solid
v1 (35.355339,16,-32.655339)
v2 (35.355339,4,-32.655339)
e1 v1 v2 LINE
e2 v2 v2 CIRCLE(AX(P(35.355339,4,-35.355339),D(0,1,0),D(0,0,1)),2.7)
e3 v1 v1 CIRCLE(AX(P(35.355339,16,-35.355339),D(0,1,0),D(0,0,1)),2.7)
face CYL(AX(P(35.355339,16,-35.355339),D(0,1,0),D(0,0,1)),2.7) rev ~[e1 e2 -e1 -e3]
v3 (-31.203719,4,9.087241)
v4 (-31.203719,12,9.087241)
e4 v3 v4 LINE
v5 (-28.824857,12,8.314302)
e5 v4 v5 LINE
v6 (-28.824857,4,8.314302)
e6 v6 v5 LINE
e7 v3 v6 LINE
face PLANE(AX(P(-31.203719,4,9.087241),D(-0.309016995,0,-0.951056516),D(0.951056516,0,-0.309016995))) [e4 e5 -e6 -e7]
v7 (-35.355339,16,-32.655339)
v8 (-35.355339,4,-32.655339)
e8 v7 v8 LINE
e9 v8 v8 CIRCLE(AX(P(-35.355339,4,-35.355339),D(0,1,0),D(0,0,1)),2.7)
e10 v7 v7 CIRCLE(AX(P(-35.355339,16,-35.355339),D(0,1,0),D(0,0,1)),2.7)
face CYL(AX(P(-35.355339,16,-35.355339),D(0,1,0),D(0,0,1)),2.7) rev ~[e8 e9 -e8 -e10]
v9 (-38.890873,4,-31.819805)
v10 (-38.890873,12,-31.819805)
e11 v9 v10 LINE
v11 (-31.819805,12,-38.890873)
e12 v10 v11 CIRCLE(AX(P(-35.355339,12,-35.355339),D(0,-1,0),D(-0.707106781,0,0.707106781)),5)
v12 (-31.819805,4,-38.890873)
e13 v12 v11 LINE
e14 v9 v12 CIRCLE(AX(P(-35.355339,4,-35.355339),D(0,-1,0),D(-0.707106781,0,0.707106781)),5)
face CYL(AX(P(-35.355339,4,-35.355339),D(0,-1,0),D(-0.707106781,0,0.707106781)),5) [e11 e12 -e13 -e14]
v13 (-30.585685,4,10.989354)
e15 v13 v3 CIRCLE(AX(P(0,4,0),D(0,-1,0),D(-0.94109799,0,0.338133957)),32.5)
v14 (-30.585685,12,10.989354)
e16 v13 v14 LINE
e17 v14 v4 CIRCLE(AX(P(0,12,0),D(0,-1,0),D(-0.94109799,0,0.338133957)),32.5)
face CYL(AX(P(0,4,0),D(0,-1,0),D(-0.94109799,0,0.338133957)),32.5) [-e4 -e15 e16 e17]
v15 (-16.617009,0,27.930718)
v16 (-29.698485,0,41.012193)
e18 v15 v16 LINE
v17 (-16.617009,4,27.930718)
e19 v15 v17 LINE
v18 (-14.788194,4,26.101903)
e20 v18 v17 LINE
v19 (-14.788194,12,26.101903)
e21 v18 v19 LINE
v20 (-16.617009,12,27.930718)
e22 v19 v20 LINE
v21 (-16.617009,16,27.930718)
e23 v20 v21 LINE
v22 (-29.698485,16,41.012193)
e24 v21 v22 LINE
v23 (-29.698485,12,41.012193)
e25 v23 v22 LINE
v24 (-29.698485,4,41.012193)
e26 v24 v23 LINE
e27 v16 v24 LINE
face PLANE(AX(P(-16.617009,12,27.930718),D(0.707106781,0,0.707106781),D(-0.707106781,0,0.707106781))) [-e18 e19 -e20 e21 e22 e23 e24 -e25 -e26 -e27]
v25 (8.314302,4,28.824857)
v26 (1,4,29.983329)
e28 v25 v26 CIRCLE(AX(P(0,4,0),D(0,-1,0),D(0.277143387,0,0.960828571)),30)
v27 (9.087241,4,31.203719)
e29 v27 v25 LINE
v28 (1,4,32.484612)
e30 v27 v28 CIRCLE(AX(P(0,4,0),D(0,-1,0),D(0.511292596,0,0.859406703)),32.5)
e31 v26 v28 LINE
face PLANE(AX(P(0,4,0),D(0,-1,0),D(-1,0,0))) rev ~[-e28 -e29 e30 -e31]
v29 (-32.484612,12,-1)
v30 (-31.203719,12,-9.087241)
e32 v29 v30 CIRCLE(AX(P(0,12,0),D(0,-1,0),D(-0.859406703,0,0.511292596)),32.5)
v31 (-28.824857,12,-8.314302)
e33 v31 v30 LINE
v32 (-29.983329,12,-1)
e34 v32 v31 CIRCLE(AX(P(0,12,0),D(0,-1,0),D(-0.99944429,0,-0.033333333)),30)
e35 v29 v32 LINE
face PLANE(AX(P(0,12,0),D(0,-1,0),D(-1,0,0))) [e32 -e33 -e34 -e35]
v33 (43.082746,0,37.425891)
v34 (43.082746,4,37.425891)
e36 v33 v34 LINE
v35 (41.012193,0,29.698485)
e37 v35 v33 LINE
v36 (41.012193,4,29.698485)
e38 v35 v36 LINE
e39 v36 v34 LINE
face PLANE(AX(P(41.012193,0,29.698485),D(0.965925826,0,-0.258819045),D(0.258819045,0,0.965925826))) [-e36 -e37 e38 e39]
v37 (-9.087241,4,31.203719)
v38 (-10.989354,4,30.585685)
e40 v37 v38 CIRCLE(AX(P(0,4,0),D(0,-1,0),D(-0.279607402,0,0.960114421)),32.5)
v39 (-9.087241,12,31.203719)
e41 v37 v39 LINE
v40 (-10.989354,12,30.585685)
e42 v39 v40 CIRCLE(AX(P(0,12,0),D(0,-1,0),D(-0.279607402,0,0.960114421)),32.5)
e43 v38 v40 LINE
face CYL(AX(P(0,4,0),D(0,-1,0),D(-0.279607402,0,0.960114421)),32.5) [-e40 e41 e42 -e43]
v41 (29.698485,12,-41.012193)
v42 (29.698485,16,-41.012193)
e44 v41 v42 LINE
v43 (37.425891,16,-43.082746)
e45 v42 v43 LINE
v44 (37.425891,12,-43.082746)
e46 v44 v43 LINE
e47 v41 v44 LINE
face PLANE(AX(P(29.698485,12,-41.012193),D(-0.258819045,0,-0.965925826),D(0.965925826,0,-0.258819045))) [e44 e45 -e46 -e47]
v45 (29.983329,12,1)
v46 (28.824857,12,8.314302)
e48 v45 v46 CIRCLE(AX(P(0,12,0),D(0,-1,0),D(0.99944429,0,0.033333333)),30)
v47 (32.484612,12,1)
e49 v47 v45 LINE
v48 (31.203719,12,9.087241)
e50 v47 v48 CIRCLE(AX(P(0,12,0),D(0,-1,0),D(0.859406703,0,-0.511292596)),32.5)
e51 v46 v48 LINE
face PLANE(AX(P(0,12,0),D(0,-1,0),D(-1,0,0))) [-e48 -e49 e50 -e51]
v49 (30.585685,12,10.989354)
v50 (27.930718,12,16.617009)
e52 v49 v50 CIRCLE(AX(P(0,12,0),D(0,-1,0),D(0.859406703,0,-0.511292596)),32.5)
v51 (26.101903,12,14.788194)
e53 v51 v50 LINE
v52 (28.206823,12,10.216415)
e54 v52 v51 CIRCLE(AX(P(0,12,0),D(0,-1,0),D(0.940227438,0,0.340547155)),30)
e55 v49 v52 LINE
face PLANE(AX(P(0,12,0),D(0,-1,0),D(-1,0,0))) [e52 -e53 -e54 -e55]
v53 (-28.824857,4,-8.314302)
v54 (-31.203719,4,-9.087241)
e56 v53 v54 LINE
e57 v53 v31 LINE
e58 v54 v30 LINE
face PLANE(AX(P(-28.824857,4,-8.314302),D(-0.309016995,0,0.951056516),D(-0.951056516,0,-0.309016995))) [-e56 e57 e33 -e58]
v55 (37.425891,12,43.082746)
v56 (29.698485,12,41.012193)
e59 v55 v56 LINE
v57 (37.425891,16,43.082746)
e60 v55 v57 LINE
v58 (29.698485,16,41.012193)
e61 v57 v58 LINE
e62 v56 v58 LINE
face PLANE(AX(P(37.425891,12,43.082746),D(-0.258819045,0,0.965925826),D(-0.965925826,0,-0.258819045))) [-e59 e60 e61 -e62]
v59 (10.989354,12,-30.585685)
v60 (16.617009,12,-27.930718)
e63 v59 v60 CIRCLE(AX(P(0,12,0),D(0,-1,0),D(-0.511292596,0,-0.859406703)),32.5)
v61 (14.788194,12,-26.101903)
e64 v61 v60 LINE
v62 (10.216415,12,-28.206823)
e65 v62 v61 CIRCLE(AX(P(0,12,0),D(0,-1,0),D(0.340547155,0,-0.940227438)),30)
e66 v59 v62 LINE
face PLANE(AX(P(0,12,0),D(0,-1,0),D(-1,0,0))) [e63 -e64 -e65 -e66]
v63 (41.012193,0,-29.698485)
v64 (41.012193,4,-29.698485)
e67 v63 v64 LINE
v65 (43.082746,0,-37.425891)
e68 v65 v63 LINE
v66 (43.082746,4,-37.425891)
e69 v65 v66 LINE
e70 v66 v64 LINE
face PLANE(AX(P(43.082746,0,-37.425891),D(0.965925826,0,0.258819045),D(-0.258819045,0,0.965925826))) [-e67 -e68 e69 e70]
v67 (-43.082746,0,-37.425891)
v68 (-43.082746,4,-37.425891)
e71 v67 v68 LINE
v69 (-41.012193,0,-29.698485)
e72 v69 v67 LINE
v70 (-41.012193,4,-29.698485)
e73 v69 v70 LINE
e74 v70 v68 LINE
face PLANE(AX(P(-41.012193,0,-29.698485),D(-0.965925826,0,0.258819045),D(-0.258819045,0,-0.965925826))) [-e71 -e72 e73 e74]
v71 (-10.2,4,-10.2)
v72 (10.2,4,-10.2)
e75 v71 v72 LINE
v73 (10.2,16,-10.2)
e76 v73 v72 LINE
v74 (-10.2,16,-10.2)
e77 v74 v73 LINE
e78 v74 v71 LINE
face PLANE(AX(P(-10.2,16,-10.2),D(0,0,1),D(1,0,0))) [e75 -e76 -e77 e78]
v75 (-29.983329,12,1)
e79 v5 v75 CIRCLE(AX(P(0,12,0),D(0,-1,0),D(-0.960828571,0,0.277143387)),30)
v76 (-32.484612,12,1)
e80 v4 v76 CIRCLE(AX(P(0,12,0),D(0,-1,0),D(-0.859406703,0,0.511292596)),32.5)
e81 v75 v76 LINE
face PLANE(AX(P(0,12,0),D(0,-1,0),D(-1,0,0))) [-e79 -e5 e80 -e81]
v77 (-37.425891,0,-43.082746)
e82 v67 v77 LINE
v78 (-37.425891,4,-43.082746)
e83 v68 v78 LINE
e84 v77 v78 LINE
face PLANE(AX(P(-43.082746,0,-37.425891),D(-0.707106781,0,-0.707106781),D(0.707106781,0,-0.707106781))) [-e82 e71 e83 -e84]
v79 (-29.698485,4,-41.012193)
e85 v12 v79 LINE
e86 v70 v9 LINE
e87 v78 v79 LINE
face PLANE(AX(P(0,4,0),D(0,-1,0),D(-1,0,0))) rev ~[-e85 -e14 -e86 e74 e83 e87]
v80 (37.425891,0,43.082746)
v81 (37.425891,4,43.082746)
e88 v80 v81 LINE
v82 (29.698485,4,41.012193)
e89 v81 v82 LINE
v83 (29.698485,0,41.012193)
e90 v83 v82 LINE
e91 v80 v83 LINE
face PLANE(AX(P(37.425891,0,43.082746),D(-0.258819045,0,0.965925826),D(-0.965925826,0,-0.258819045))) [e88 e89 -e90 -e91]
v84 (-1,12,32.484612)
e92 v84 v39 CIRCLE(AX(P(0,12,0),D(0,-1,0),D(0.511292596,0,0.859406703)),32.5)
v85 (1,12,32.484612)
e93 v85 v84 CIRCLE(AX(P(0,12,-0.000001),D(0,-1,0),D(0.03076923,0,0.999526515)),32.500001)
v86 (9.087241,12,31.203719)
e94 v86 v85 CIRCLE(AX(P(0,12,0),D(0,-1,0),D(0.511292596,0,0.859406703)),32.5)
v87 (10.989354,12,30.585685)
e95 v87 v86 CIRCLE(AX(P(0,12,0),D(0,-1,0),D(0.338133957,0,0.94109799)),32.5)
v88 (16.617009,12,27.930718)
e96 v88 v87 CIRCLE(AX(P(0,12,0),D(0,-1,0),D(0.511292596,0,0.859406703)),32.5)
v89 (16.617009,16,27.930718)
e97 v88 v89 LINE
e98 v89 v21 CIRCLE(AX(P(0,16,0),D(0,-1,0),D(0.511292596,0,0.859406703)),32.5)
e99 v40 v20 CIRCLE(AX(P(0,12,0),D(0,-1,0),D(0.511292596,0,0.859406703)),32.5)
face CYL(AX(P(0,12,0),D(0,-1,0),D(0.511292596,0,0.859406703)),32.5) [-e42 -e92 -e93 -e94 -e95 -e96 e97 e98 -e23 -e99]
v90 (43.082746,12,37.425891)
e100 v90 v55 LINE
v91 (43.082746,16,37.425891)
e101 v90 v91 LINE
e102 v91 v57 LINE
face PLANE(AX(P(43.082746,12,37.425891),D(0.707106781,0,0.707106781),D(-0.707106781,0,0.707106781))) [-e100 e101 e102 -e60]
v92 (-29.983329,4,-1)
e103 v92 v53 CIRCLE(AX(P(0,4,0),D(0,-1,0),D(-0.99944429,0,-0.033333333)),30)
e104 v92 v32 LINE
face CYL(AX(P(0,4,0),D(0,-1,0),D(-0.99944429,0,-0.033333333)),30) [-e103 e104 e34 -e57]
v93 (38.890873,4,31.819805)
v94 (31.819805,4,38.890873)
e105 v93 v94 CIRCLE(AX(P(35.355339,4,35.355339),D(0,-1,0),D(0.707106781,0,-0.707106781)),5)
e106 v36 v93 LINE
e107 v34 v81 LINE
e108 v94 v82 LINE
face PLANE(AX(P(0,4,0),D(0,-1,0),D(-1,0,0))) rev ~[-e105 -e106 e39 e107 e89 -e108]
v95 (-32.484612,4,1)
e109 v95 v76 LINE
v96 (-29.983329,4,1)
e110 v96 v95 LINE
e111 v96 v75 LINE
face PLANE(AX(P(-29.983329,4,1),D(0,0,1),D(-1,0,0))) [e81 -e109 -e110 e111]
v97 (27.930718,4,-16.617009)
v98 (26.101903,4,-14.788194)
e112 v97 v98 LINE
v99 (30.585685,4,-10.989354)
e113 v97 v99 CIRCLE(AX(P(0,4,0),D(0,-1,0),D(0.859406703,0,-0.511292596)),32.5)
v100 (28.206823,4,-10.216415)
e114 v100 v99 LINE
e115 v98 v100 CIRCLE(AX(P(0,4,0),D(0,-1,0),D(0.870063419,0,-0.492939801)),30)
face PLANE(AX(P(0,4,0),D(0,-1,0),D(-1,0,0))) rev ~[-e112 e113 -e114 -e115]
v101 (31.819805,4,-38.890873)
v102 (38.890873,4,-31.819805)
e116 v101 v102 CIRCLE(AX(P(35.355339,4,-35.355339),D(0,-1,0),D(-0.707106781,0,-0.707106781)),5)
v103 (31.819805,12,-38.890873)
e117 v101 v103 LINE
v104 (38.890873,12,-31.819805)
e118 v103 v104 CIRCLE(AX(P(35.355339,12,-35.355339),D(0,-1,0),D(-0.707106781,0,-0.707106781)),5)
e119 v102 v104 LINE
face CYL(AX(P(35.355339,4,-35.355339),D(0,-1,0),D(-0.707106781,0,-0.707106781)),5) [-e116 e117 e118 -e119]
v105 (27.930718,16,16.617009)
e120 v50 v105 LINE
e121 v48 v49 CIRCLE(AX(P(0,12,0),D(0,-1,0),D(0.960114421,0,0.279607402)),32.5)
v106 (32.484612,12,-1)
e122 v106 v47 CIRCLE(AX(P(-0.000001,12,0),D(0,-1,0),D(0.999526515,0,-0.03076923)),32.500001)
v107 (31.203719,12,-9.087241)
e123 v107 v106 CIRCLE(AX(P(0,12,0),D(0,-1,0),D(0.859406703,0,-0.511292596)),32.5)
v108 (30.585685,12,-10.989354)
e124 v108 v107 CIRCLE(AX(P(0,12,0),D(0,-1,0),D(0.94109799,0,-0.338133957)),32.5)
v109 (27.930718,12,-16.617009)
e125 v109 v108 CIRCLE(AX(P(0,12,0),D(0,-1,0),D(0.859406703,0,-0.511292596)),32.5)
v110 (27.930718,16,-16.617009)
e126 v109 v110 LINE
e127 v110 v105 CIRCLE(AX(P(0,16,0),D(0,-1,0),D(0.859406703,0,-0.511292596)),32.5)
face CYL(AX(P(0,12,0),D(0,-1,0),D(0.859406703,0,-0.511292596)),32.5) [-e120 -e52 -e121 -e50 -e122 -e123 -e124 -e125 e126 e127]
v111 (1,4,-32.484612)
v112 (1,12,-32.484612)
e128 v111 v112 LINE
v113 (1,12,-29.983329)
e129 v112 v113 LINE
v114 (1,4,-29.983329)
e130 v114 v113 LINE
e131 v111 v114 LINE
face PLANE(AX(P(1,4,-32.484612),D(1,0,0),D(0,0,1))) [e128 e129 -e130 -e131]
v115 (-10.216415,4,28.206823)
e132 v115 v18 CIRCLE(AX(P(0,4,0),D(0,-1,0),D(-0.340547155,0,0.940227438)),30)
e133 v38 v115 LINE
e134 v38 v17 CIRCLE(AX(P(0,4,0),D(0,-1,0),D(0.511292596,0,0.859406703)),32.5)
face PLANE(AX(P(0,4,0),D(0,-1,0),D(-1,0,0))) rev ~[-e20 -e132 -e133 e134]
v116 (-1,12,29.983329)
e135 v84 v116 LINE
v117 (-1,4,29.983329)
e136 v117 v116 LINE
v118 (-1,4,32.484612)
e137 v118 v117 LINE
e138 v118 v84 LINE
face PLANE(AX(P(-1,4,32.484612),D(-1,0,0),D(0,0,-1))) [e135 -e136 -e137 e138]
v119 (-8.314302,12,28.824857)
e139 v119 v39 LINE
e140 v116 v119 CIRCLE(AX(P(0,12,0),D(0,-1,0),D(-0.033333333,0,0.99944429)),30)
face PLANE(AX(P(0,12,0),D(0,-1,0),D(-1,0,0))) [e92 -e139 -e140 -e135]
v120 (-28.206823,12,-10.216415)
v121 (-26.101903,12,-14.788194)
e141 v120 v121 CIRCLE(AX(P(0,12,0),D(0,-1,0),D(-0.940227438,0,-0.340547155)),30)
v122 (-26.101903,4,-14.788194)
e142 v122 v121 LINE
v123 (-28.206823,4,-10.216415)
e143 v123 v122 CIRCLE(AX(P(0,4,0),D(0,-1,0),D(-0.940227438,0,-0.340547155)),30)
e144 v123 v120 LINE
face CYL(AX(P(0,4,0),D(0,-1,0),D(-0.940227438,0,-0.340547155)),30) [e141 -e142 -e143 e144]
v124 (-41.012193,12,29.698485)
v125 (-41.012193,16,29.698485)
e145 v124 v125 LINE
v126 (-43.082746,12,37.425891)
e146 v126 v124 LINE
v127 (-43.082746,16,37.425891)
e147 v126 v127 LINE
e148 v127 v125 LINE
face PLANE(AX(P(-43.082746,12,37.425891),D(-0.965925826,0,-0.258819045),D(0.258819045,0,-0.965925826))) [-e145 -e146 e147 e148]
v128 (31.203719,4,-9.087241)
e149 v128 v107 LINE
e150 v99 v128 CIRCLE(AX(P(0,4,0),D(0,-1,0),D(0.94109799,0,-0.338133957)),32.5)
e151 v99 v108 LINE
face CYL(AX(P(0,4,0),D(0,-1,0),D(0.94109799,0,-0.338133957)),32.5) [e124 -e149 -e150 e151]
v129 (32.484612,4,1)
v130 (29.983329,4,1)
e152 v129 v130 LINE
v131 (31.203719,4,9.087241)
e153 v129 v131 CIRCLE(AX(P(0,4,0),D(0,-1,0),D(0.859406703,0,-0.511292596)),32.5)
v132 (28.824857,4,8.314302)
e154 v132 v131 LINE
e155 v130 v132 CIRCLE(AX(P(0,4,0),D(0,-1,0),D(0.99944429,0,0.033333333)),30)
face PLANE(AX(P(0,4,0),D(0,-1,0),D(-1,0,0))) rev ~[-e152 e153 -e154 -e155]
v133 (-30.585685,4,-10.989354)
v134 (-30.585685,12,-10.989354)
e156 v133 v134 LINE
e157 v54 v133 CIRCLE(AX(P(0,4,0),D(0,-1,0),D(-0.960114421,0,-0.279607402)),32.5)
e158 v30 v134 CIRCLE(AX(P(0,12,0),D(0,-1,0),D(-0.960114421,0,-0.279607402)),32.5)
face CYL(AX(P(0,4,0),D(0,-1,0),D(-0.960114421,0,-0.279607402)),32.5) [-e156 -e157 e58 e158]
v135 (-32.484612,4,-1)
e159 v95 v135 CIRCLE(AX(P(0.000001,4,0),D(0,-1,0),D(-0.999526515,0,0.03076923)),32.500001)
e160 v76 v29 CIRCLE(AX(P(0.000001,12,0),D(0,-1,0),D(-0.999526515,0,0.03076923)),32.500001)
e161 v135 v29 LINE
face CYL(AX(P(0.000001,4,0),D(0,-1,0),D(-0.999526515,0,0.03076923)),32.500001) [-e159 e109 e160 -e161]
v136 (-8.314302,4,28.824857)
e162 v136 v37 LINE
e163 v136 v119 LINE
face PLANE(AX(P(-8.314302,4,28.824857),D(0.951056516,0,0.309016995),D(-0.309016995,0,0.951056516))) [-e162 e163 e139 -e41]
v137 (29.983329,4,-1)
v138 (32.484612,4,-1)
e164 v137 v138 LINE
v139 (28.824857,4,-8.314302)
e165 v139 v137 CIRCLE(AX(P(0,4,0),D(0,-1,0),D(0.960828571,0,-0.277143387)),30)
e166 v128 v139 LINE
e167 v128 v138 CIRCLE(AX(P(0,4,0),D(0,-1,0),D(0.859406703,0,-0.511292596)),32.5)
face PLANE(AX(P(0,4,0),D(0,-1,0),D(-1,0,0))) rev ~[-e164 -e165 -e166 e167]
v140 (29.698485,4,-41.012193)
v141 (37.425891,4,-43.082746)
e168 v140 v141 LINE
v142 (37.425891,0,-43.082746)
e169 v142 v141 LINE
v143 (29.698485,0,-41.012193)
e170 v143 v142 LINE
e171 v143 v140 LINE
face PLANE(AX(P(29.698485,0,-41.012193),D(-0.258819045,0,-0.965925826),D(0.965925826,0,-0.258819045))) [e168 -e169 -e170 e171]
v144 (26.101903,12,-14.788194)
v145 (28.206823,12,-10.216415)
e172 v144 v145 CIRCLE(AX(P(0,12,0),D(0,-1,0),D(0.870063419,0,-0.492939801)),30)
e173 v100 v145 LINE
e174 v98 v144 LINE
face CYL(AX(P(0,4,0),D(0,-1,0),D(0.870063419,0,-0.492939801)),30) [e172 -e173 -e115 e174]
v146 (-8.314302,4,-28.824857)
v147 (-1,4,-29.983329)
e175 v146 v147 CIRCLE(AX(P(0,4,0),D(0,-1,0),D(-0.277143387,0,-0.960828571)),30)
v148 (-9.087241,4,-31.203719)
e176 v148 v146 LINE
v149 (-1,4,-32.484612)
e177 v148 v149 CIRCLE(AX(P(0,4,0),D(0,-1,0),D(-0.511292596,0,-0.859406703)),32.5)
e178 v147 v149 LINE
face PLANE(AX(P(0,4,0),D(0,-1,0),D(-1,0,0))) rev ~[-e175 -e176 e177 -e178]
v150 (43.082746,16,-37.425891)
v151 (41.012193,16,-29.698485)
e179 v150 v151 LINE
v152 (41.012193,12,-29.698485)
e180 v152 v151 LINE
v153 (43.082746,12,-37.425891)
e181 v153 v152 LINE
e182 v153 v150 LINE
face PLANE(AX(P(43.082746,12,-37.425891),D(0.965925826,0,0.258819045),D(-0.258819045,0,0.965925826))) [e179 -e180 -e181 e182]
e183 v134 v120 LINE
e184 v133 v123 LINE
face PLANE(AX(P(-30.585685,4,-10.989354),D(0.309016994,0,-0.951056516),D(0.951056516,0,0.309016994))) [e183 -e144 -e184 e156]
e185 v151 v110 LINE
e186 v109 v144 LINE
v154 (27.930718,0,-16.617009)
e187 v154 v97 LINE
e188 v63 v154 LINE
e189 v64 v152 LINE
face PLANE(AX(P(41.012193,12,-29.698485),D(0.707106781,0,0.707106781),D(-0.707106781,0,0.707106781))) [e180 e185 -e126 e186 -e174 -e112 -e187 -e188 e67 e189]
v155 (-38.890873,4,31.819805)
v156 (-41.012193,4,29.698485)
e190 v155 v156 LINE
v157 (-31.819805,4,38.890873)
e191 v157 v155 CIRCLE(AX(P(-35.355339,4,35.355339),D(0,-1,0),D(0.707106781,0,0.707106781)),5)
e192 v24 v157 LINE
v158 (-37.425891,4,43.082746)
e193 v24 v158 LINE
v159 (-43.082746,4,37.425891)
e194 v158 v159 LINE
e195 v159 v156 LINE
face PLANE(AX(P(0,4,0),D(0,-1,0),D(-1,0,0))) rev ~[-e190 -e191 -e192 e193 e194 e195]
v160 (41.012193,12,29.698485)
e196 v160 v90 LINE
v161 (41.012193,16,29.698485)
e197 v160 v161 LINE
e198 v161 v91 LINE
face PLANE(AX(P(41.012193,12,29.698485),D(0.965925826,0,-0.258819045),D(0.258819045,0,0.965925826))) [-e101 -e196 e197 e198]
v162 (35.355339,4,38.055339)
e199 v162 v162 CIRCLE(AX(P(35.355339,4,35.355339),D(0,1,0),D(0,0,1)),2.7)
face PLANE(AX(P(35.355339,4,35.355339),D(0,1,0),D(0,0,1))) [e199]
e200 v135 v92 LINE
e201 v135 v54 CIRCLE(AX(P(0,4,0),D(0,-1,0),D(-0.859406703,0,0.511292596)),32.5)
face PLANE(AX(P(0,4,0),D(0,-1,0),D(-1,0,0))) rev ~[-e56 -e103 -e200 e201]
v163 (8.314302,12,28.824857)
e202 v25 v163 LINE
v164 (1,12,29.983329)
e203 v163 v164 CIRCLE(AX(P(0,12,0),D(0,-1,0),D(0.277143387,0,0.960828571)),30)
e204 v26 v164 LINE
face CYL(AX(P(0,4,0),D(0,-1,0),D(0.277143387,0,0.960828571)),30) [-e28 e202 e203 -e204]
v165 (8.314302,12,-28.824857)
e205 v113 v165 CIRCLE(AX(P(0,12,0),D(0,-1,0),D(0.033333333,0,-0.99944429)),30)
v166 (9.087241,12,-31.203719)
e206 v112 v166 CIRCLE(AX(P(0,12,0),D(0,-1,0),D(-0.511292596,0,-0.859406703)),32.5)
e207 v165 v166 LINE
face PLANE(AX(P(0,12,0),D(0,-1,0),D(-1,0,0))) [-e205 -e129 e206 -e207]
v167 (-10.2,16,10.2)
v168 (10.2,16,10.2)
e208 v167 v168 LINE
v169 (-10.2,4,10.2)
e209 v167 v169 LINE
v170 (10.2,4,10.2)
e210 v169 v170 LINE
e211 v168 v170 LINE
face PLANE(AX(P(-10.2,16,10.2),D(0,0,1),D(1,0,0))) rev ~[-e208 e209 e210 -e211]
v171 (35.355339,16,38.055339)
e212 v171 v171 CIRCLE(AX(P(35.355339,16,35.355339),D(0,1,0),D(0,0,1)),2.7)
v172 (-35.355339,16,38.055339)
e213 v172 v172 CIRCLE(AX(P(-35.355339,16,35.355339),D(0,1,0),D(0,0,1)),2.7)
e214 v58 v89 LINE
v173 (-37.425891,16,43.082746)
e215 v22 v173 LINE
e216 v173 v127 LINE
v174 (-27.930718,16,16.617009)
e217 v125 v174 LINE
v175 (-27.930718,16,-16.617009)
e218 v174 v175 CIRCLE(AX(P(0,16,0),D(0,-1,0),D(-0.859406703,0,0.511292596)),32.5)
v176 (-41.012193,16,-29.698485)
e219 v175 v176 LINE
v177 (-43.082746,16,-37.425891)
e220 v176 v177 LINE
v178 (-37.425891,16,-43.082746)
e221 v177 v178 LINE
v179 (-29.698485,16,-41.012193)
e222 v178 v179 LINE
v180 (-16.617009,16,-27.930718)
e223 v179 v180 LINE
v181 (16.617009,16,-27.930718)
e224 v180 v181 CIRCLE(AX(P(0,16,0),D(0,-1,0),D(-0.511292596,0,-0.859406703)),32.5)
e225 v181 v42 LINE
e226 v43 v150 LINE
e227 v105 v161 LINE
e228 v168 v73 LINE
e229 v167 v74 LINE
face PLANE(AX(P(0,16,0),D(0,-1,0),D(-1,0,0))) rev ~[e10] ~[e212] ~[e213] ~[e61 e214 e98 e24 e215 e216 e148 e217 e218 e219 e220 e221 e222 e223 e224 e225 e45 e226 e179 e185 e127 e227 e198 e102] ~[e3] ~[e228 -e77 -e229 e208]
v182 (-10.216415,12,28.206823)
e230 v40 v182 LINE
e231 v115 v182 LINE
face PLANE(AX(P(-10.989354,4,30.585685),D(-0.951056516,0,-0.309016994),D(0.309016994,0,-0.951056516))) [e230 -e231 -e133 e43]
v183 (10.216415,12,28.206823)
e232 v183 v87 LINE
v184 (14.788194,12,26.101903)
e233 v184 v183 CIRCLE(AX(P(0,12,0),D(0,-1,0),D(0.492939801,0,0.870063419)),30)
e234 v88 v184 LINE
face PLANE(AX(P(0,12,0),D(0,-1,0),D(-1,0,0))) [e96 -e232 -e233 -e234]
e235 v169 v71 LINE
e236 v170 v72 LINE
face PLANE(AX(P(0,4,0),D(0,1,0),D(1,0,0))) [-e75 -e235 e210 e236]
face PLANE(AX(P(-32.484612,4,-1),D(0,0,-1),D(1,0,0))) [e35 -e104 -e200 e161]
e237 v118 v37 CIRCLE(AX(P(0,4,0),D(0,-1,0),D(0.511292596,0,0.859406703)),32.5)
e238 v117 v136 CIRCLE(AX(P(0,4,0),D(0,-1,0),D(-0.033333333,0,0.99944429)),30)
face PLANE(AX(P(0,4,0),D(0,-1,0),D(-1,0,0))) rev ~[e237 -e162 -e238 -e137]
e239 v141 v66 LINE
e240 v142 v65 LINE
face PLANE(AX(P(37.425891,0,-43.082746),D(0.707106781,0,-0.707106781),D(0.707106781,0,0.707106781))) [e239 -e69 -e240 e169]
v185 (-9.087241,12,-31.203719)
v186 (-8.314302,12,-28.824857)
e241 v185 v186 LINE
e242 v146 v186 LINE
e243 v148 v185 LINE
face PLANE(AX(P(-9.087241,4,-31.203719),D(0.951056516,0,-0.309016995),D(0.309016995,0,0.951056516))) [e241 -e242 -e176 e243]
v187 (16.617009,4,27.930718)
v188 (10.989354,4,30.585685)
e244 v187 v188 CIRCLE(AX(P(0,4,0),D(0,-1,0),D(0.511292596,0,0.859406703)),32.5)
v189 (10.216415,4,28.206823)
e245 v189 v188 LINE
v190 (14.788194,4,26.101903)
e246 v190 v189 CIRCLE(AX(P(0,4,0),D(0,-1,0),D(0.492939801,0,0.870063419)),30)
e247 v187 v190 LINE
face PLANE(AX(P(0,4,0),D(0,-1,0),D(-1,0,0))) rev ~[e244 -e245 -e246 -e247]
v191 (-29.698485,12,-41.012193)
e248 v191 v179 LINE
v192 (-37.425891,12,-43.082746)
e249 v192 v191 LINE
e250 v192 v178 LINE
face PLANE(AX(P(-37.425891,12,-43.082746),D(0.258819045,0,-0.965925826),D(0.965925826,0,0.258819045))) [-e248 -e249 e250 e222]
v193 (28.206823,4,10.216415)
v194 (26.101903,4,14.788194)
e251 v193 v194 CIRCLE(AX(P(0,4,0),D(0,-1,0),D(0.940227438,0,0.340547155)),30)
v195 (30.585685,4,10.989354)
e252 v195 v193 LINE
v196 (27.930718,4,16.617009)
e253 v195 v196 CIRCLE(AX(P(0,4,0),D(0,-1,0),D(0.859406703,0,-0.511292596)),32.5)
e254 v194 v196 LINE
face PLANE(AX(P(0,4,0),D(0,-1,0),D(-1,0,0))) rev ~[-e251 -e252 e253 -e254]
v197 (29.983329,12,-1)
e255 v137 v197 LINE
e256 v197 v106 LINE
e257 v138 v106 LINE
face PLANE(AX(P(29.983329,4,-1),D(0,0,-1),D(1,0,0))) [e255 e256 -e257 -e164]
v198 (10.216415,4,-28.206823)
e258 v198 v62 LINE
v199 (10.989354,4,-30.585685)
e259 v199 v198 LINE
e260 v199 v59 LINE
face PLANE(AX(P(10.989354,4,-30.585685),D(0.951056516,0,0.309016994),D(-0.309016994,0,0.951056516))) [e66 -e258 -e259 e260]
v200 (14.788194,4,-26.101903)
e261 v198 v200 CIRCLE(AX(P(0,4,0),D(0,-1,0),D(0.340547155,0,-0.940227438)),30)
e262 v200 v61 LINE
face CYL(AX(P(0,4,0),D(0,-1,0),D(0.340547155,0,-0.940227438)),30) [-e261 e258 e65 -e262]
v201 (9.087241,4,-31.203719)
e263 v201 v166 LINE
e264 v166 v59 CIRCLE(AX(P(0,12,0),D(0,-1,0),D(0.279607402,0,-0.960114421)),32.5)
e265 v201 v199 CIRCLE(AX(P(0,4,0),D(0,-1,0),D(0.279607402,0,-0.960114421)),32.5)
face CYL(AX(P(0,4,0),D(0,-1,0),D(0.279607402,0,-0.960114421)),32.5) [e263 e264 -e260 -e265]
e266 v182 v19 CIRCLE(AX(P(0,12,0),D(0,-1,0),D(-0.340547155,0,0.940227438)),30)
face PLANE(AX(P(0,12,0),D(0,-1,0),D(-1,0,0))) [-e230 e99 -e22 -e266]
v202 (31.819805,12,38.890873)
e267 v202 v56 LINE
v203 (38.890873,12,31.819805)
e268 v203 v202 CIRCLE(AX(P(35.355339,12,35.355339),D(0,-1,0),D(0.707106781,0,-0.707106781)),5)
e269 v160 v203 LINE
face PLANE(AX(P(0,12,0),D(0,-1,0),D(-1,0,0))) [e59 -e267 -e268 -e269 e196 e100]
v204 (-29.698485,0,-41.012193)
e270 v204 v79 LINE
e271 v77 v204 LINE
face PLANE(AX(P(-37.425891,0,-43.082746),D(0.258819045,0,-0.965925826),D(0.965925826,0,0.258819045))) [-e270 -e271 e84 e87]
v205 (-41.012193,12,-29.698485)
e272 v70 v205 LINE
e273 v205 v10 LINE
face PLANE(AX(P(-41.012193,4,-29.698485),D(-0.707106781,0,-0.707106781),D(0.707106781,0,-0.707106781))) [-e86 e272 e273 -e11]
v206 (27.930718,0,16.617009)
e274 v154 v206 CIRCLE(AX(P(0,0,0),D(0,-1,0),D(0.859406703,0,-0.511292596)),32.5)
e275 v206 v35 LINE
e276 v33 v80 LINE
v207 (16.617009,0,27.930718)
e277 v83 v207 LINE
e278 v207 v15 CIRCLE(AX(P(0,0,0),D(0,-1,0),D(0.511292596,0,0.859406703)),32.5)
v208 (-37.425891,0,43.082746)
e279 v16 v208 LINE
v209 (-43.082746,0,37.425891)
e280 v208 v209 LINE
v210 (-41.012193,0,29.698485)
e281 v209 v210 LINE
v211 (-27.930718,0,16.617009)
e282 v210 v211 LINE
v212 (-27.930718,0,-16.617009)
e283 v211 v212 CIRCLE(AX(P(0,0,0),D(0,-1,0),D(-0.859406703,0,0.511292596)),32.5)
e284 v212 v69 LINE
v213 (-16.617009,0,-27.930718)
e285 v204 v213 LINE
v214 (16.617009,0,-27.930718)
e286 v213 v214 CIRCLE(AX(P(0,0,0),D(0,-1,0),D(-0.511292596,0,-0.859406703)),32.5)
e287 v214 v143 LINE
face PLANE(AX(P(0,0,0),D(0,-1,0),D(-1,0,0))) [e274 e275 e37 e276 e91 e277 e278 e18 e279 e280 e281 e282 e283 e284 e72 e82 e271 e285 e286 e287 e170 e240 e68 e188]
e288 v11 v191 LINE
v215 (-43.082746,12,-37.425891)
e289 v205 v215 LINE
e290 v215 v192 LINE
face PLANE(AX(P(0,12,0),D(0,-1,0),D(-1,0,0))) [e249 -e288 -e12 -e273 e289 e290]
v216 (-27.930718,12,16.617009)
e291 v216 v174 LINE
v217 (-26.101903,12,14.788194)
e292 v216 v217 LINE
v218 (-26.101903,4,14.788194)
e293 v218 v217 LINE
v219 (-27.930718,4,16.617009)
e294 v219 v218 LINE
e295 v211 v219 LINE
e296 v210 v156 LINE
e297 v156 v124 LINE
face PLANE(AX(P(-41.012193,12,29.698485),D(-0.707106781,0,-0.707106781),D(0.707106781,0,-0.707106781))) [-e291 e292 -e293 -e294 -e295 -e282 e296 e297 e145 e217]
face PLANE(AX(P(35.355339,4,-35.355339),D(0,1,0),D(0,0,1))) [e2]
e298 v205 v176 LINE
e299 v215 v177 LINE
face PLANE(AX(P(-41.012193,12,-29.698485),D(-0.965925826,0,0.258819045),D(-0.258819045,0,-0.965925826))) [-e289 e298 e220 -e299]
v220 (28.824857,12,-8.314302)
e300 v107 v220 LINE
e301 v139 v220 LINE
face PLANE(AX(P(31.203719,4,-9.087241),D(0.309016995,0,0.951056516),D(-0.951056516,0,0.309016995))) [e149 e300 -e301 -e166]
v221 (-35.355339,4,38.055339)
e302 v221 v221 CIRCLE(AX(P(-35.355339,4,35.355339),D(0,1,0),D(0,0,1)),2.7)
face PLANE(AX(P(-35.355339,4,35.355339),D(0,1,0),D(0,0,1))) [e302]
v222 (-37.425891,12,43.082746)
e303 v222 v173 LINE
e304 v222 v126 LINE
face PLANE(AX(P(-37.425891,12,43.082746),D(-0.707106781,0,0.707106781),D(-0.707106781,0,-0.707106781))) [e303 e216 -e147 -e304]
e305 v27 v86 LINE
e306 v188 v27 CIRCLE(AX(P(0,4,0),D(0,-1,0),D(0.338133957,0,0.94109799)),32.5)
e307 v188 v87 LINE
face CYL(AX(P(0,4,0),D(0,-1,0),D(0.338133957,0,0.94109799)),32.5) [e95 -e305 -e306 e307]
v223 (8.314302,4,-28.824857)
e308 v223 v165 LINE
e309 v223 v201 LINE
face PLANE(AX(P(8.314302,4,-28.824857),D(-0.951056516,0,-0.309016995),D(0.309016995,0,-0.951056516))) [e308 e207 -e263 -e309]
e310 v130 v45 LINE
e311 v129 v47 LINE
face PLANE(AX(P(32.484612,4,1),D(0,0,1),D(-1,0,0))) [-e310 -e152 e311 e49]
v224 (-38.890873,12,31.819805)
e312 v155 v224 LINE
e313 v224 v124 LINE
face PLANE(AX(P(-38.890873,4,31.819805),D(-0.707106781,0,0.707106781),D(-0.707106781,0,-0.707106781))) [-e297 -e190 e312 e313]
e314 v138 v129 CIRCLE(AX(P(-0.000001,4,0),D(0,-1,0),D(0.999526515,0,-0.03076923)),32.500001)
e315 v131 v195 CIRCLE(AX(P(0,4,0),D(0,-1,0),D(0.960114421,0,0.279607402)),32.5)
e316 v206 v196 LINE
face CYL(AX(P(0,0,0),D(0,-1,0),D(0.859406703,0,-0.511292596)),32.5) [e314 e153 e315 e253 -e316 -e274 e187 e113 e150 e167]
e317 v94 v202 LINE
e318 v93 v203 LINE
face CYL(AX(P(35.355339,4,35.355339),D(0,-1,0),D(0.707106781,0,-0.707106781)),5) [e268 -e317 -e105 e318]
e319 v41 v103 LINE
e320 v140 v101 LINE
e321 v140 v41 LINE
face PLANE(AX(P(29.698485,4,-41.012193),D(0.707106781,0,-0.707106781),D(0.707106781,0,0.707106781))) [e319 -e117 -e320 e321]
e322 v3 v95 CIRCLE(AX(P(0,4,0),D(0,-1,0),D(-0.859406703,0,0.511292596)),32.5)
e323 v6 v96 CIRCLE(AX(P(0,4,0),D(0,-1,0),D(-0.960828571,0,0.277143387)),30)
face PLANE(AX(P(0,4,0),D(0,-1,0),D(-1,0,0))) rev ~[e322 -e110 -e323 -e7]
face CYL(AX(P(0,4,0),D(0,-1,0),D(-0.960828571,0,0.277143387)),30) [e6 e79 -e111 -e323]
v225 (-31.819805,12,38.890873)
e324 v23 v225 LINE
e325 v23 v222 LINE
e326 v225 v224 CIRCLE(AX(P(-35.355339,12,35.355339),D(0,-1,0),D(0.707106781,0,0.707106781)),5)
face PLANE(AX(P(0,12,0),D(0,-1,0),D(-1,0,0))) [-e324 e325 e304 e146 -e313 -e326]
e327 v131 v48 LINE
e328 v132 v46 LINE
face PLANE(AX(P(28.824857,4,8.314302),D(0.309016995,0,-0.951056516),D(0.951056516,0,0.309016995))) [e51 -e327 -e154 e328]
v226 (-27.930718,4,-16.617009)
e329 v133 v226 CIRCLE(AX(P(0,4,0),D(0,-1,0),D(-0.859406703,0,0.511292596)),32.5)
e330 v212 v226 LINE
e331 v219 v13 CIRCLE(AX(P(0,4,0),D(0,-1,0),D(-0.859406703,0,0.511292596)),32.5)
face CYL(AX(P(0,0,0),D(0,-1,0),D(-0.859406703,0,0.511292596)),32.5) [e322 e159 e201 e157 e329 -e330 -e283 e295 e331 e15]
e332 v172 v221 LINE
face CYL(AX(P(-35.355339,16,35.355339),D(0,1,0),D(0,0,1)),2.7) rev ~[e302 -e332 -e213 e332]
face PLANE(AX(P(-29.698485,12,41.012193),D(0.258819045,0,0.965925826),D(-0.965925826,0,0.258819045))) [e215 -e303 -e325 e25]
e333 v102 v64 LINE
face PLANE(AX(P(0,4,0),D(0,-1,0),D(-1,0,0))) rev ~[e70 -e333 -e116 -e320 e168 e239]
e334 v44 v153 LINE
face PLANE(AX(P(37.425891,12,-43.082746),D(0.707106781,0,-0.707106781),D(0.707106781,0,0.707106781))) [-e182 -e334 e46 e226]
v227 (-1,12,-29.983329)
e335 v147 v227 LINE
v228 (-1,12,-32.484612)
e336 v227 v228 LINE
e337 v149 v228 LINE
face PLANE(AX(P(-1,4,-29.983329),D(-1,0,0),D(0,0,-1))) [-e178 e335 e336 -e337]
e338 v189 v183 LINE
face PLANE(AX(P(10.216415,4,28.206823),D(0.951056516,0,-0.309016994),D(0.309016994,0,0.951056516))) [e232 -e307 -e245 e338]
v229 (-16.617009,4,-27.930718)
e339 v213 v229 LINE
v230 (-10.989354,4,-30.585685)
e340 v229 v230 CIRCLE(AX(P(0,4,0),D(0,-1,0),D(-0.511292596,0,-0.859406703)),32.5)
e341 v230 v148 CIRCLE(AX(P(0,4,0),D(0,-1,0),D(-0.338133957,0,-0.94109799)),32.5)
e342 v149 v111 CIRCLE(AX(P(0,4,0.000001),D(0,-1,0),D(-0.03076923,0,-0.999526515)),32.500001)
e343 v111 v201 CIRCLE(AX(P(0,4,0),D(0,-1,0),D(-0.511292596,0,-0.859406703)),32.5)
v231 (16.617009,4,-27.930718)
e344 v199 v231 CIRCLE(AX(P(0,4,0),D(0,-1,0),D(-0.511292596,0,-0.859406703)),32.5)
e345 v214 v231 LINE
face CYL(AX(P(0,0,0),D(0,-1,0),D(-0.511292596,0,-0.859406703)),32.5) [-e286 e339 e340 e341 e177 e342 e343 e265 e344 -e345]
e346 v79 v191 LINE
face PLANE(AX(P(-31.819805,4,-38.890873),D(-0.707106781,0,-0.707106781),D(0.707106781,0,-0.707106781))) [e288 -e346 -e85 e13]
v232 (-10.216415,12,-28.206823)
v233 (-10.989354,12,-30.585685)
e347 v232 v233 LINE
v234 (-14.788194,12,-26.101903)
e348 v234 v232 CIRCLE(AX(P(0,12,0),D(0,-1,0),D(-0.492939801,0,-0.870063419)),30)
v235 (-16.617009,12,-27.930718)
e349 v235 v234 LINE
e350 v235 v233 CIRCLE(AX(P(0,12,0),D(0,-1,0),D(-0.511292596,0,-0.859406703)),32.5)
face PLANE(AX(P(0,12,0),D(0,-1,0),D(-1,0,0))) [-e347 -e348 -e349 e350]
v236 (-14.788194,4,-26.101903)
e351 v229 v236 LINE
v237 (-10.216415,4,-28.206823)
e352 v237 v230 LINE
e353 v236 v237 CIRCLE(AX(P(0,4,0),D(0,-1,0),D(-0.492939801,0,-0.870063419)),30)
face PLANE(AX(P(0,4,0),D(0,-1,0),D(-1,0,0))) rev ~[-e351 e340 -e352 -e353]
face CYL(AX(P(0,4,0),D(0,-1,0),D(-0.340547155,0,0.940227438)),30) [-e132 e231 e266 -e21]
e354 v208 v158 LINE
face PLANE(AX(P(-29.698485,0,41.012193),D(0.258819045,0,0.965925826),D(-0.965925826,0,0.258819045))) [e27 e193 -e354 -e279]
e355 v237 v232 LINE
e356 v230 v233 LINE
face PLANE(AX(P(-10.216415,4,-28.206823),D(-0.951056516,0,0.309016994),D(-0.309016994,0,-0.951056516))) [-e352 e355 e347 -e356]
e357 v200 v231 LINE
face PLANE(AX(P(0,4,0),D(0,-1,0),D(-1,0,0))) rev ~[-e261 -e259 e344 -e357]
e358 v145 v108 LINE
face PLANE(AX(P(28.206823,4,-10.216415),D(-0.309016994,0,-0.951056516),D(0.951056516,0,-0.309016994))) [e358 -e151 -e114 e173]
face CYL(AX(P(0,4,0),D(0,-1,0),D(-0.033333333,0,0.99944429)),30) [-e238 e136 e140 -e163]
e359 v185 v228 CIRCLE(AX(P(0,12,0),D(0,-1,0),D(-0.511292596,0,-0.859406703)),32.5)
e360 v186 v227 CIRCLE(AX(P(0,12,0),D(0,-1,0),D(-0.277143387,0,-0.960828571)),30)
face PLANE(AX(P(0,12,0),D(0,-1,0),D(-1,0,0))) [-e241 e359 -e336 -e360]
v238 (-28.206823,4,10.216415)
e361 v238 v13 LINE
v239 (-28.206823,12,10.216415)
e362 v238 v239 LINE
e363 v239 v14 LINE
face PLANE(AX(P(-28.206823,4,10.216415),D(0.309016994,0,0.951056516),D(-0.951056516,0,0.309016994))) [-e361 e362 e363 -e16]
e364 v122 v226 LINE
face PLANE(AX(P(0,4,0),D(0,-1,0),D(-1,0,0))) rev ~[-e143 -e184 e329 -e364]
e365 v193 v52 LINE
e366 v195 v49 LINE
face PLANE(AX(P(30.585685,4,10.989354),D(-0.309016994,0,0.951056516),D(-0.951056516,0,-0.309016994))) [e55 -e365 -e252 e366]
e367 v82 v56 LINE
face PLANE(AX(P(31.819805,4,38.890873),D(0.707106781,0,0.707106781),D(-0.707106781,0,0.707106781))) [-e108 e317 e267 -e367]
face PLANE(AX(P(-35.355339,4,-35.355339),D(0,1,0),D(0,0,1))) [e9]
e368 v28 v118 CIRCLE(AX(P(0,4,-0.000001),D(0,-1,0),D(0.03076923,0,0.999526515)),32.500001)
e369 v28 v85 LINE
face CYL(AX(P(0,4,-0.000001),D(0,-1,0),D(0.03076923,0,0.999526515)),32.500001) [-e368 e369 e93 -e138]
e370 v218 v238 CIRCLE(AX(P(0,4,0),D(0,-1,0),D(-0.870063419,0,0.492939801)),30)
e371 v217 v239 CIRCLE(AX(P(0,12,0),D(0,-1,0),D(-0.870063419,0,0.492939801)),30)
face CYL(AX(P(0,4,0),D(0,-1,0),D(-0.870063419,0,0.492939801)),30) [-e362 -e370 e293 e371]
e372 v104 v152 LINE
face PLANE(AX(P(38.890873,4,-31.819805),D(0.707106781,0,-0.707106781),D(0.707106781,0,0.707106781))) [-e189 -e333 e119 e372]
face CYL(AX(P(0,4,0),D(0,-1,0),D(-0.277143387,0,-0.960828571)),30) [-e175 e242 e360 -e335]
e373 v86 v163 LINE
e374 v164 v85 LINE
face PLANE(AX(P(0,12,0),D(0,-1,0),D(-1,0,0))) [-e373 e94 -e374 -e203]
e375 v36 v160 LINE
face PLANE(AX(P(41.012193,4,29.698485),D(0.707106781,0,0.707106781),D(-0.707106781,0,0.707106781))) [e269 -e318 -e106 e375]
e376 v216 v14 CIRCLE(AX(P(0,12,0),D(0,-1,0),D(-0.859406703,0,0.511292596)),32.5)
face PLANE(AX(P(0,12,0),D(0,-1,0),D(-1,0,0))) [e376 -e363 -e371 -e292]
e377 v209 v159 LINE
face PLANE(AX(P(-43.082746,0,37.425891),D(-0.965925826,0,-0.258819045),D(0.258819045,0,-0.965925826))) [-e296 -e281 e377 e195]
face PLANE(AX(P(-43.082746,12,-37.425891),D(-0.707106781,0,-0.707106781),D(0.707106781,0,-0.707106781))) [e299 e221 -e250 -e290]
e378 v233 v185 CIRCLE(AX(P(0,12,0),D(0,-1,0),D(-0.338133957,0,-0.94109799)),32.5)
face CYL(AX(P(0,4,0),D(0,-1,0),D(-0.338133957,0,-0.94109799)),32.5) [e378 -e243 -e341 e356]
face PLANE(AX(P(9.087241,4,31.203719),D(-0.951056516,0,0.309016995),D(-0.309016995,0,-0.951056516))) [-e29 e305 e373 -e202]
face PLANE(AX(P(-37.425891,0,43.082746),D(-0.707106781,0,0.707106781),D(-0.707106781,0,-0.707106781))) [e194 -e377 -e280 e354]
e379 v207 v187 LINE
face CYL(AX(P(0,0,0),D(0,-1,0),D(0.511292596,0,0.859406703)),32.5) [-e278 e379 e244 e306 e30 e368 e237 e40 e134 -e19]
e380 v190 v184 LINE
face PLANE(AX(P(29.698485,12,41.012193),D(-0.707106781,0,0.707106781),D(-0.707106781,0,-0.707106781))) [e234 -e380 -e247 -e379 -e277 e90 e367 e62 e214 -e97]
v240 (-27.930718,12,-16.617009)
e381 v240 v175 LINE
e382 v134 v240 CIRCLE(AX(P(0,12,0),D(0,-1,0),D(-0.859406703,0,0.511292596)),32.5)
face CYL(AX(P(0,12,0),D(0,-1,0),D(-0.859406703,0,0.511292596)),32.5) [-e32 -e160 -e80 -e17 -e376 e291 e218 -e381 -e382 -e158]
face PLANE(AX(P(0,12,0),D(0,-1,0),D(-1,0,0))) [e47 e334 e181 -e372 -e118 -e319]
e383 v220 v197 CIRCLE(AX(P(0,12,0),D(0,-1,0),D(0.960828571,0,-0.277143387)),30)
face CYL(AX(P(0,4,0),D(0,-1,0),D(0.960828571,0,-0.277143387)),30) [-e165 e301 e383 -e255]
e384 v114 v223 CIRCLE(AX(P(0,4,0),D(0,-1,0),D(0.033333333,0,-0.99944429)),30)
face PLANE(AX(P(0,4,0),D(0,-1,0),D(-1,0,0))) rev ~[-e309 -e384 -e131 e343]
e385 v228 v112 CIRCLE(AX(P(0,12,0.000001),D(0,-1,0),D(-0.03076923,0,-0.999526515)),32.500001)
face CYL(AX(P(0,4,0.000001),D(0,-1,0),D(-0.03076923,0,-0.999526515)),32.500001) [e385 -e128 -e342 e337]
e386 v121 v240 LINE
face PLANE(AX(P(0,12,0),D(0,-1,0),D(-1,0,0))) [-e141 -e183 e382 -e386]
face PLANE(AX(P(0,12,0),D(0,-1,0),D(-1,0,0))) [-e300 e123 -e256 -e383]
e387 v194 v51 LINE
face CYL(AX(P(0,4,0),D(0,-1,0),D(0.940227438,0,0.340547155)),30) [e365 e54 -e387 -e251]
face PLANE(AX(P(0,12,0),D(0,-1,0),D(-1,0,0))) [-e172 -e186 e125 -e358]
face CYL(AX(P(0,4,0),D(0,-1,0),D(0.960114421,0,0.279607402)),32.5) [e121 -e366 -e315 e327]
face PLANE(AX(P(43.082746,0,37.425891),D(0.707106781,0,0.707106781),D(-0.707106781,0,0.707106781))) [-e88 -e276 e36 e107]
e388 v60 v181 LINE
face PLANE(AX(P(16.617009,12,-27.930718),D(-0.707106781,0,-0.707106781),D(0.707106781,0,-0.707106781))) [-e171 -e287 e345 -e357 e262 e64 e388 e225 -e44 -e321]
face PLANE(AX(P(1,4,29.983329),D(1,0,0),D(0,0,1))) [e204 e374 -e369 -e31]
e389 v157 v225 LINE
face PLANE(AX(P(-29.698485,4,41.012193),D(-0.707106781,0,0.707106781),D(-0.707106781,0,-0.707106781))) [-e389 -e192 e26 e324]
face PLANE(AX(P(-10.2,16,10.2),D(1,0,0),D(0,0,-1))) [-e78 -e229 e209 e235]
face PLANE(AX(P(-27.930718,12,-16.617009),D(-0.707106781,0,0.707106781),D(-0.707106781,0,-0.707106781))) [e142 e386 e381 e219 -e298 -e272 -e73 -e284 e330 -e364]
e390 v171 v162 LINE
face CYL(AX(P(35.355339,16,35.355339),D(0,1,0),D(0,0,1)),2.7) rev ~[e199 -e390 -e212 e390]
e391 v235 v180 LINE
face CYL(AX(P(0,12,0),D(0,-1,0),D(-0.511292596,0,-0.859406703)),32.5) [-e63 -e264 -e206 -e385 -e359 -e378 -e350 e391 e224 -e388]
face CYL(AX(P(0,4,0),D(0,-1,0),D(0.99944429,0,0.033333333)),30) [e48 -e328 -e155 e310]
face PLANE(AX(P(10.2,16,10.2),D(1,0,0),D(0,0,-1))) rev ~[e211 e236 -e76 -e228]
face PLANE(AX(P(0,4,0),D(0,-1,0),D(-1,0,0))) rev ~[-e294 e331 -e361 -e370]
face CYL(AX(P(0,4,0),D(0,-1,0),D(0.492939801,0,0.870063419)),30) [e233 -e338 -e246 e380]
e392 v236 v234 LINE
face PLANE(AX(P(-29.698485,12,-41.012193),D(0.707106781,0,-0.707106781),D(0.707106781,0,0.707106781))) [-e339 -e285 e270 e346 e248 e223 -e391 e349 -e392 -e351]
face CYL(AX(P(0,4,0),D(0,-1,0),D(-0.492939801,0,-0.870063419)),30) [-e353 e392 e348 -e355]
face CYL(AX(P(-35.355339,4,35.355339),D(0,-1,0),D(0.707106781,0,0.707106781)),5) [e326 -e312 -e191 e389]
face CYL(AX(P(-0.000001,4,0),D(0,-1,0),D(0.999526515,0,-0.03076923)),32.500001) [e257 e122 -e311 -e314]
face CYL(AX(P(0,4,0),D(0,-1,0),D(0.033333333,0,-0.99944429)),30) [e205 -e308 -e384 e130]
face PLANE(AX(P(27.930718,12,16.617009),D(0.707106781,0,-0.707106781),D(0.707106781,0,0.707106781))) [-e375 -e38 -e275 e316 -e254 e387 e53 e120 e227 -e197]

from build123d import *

# Parameters (mm, degrees)
BOSS_EXTRUDE8_DEPTH  = 4
BOSS_EXTRUDE10_DEPTH = 8
BOSS_EXTRUDE11_DEPTH = 4
SKETCH14_R           = 2.7
SKETCH14_W           = 20.4
SKETCH14_H           = 20.4
CUT_EXTRUDE1_DEPTH   = 12


with BuildPart() as part:
    # Sketch11 → Boss-Extrude8 (new body)
    with BuildSketch(Plane(origin=(0, 0, 0), x_dir=(1, 0, 0), z_dir=(0, 1, 0))):
        with BuildLine():
            Line((27.930717857, -16.617009358), (41.012193309, -29.69848481))
            Line((41.012193309, -29.69848481), (43.08274567, -37.42589142))
            Line((43.08274567, -37.42589142), (37.42589142, -43.08274567))
            Line((37.42589142, -43.08274567), (29.69848481, -41.012193309))
            Line((29.69848481, -41.012193309), (16.617009358, -27.930717857))
            ThreePointArc((16.617009358, -27.930717857), (0, -32.5), (-16.617009358, -27.930717857))
            Line((-16.617009358, -27.930717857), (-29.69848481, -41.012193309))
            Line((-29.69848481, -41.012193309), (-37.42589142, -43.08274567))
            Line((-37.42589142, -43.08274567), (-43.08274567, -37.42589142))
            Line((-43.08274567, -37.42589142), (-41.012193309, -29.69848481))
            Line((-41.012193309, -29.69848481), (-27.930717857, -16.617009358))
            ThreePointArc((-27.930717857, -16.617009358), (-32.5, 0), (-27.930717857, 16.617009358))
            Line((-27.930717857, 16.617009358), (-41.012193309, 29.69848481))
            Line((-41.012193309, 29.69848481), (-43.08274567, 37.42589142))
            Line((-43.08274567, 37.42589142), (-37.42589142, 43.08274567))
            Line((-37.42589142, 43.08274567), (-29.69848481, 41.012193309))
            Line((-29.69848481, 41.012193309), (-16.617009358, 27.930717857))
            ThreePointArc((-16.617009358, 27.930717857), (0, 32.5), (16.617009358, 27.930717857))
            Line((16.617009358, 27.930717857), (29.69848481, 41.012193309))
            Line((29.69848481, 41.012193309), (37.42589142, 43.08274567))
            Line((37.42589142, 43.08274567), (43.08274567, 37.42589142))
            Line((43.08274567, 37.42589142), (41.012193309, 29.69848481))
            Line((41.012193309, 29.69848481), (27.930717857, 16.617009358))
            ThreePointArc((27.930717857, 16.617009358), (32.5, 0), (27.930717857, -16.617009358))
        make_face()
    extrude(amount=BOSS_EXTRUDE8_DEPTH)

    # Sketch12 → Boss-Extrude10 (add)
    with BuildSketch(Plane(origin=(0, 4, 0), x_dir=(1, 0, 0), z_dir=(0, 1, 0))):
        with BuildLine():
            Line((38.890872967, 31.819805152), (41.012193309, 29.69848481))
            Line((41.012193309, 29.69848481), (26.10190255, 14.788194051))
            ThreePointArc((26.10190255, 14.788194051), (27.250407583, 12.546524879), (28.206823147, 10.216414633))
            Line((28.206823147, 10.216414633), (30.585684682, 10.9893536))
            ThreePointArc((30.585684682, 10.9893536), (30.90933678, 10.043052317), (31.203718671, 9.087240568))
            Line((31.203718671, 9.087240568), (28.824857136, 8.3143016))
            ThreePointArc((28.824857136, 8.3143016), (29.630650218, 4.693033951), (29.983328701, 1))
            Line((29.983328701, 1), (32.484611742, 1))
            ThreePointArc((32.484611742, 1), (32.5, 0), (32.484611742, -1))
            Line((32.484611742, -1), (29.983328701, -1))
            ThreePointArc((29.983328701, -1), (29.630650218, -4.693033951), (28.824857136, -8.3143016))
            Line((28.824857136, -8.3143016), (31.203718671, -9.087240568))
            ThreePointArc((31.203718671, -9.087240568), (30.90933678, -10.043052317), (30.585684682, -10.9893536))
            Line((30.585684682, -10.9893536), (28.206823147, -10.216414633))
            ThreePointArc((28.206823147, -10.216414633), (27.250407583, -12.546524879), (26.10190255, -14.788194051))
            Line((26.10190255, -14.788194051), (41.012193309, -29.69848481))
            Line((41.012193309, -29.69848481), (38.890872965, -31.819805153))
            ThreePointArc((38.890872965, -31.819805153), (38.890872965, -38.890872967), (31.819805152, -38.890872967))
            Line((31.819805152, -38.890872967), (29.69848481, -41.012193309))
            Line((29.69848481, -41.012193309), (14.788194051, -26.10190255))
            ThreePointArc((14.788194051, -26.10190255), (12.546524879, -27.250407583), (10.216414633, -28.206823147))
            Line((10.216414633, -28.206823147), (10.9893536, -30.585684682))
            ThreePointArc((10.9893536, -30.585684682), (10.043052317, -30.90933678), (9.087240568, -31.203718671))
            Line((9.087240568, -31.203718671), (8.3143016, -28.824857136))
            ThreePointArc((8.3143016, -28.824857136), (4.693033951, -29.630650218), (1, -29.983328701))
            Line((1, -29.983328701), (1, -32.484611742))
            ThreePointArc((1, -32.484611742), (0, -32.5), (-1, -32.484611742))
            Line((-1, -32.484611742), (-1, -29.983328701))
            ThreePointArc((-1, -29.983328701), (-4.693033951, -29.630650218), (-8.3143016, -28.824857136))
            Line((-8.3143016, -28.824857136), (-9.087240568, -31.203718671))
            ThreePointArc((-9.087240568, -31.203718671), (-10.043052317, -30.90933678), (-10.9893536, -30.585684682))
            Line((-10.9893536, -30.585684682), (-10.216414633, -28.206823147))
            ThreePointArc((-10.216414633, -28.206823147), (-12.546524879, -27.250407583), (-14.788194051, -26.10190255))
            Line((-14.788194051, -26.10190255), (-29.69848481, -41.012193309))
            Line((-29.69848481, -41.012193309), (-31.819805153, -38.890872965))
            ThreePointArc((-31.819805153, -38.890872965), (-38.890872967, -38.890872965), (-38.890872967, -31.819805152))
            Line((-38.890872967, -31.819805152), (-41.012193309, -29.69848481))
            Line((-41.012193309, -29.69848481), (-26.10190255, -14.788194051))
            ThreePointArc((-26.10190255, -14.788194051), (-27.250407583, -12.546524879), (-28.206823147, -10.216414633))
            Line((-28.206823147, -10.216414633), (-30.585684682, -10.9893536))
            ThreePointArc((-30.585684682, -10.9893536), (-30.90933678, -10.043052317), (-31.203718671, -9.087240568))
            Line((-31.203718671, -9.087240568), (-28.824857136, -8.3143016))
            ThreePointArc((-28.824857136, -8.3143016), (-29.630650218, -4.693033951), (-29.983328701, -1))
            Line((-29.983328701, -1), (-32.484611742, -1))
            ThreePointArc((-32.484611742, -1), (-32.5, 0), (-32.484611742, 1))
            Line((-32.484611742, 1), (-29.983328701, 1))
            ThreePointArc((-29.983328701, 1), (-29.630650218, 4.693033951), (-28.824857136, 8.3143016))
            Line((-28.824857136, 8.3143016), (-31.203718671, 9.087240568))
            ThreePointArc((-31.203718671, 9.087240568), (-30.90933678, 10.043052317), (-30.585684682, 10.9893536))
            Line((-30.585684682, 10.9893536), (-28.206823147, 10.216414633))
            ThreePointArc((-28.206823147, 10.216414633), (-27.250407583, 12.546524879), (-26.10190255, 14.788194051))
            Line((-26.10190255, 14.788194051), (-41.012193309, 29.69848481))
            Line((-41.012193309, 29.69848481), (-38.890872965, 31.819805153))
            ThreePointArc((-38.890872965, 31.819805153), (-38.890872965, 38.890872967), (-31.819805152, 38.890872967))
            Line((-31.819805152, 38.890872967), (-29.69848481, 41.012193309))
            Line((-29.69848481, 41.012193309), (-14.788194051, 26.10190255))
            ThreePointArc((-14.788194051, 26.10190255), (-12.546524879, 27.250407583), (-10.216414633, 28.206823147))
            Line((-10.216414633, 28.206823147), (-10.9893536, 30.585684682))
            ThreePointArc((-10.9893536, 30.585684682), (-10.043052317, 30.90933678), (-9.087240568, 31.203718671))
            Line((-9.087240568, 31.203718671), (-8.3143016, 28.824857136))
            ThreePointArc((-8.3143016, 28.824857136), (-4.693033951, 29.630650218), (-1, 29.983328701))
            Line((-1, 29.983328701), (-1, 32.484611742))
            ThreePointArc((-1, 32.484611742), (0, 32.5), (1, 32.484611742))
            Line((1, 32.484611742), (1, 29.983328701))
            ThreePointArc((1, 29.983328701), (4.693033951, 29.630650218), (8.3143016, 28.824857136))
            Line((8.3143016, 28.824857136), (9.087240568, 31.203718671))
            ThreePointArc((9.087240568, 31.203718671), (10.043052317, 30.90933678), (10.9893536, 30.585684682))
            Line((10.9893536, 30.585684682), (10.216414633, 28.206823147))
            ThreePointArc((10.216414633, 28.206823147), (12.546524879, 27.250407583), (14.788194051, 26.10190255))
            Line((14.788194051, 26.10190255), (29.69848481, 41.012193309))
            Line((29.69848481, 41.012193309), (31.819805153, 38.890872965))
            ThreePointArc((31.819805153, 38.890872965), (38.890872967, 38.890872965), (38.890872967, 31.819805152))
        make_face()
    extrude(amount=BOSS_EXTRUDE10_DEPTH)

    # Sketch13 → Boss-Extrude11 (add)
    with BuildSketch(Plane(origin=(0, 12, 0), x_dir=(1, 0, 0), z_dir=(0, 1, 0))):
        with BuildLine():
            Line((27.930717857, -16.617009358), (41.012193309, -29.69848481))
            Line((41.012193309, -29.69848481), (43.08274567, -37.42589142))
            Line((43.08274567, -37.42589142), (37.42589142, -43.08274567))
            Line((37.42589142, -43.08274567), (29.69848481, -41.012193309))
            Line((29.69848481, -41.012193309), (16.617009358, -27.930717857))
            ThreePointArc((16.617009358, -27.930717857), (0, -32.5), (-16.617009358, -27.930717857))
            Line((-16.617009358, -27.930717857), (-29.69848481, -41.012193309))
            Line((-29.69848481, -41.012193309), (-37.42589142, -43.08274567))
            Line((-37.42589142, -43.08274567), (-43.08274567, -37.42589142))
            Line((-43.08274567, -37.42589142), (-41.012193309, -29.69848481))
            Line((-41.012193309, -29.69848481), (-27.930717857, -16.617009358))
            ThreePointArc((-27.930717857, -16.617009358), (-32.5, 0), (-27.930717857, 16.617009358))
            Line((-27.930717857, 16.617009358), (-41.012193309, 29.69848481))
            Line((-41.012193309, 29.69848481), (-43.08274567, 37.42589142))
            Line((-43.08274567, 37.42589142), (-37.42589142, 43.08274567))
            Line((-37.42589142, 43.08274567), (-29.69848481, 41.012193309))
            Line((-29.69848481, 41.012193309), (-16.617009358, 27.930717857))
            ThreePointArc((-16.617009358, 27.930717857), (0, 32.5), (16.617009358, 27.930717857))
            Line((16.617009358, 27.930717857), (29.69848481, 41.012193309))
            Line((29.69848481, 41.012193309), (37.42589142, 43.08274567))
            Line((37.42589142, 43.08274567), (43.08274567, 37.42589142))
            Line((43.08274567, 37.42589142), (41.012193309, 29.69848481))
            Line((41.012193309, 29.69848481), (27.930717857, 16.617009358))
            ThreePointArc((27.930717857, 16.617009358), (32.5, 0), (27.930717857, -16.617009358))
        make_face()
    extrude(amount=BOSS_EXTRUDE11_DEPTH)

    # Sketch14 → Cut-Extrude1 (cut)
    with BuildSketch(Plane(origin=(0, 16, 0), x_dir=(1, 0, 0), z_dir=(0, 1, 0))):
        with Locations(Location((-35.355339059, 35.355339059, 0), (0, 0, 270))):
            Circle(SKETCH14_R)
        with Locations(Location((35.355339059, 35.355339059, 0), (0, 0, 270))):
            Circle(SKETCH14_R)
        with Locations(Location((35.355339059, -35.355339059, 0), (0, 0, 270))):
            Circle(SKETCH14_R)
        with Locations(Location((-35.355339059, -35.355339059, 0), (0, 0, 270))):
            Circle(SKETCH14_R)
        Rectangle(SKETCH14_W, SKETCH14_H)
    extrude(amount=-CUT_EXTRUDE1_DEPTH, mode=Mode.SUBTRACT)


solid = part.part
